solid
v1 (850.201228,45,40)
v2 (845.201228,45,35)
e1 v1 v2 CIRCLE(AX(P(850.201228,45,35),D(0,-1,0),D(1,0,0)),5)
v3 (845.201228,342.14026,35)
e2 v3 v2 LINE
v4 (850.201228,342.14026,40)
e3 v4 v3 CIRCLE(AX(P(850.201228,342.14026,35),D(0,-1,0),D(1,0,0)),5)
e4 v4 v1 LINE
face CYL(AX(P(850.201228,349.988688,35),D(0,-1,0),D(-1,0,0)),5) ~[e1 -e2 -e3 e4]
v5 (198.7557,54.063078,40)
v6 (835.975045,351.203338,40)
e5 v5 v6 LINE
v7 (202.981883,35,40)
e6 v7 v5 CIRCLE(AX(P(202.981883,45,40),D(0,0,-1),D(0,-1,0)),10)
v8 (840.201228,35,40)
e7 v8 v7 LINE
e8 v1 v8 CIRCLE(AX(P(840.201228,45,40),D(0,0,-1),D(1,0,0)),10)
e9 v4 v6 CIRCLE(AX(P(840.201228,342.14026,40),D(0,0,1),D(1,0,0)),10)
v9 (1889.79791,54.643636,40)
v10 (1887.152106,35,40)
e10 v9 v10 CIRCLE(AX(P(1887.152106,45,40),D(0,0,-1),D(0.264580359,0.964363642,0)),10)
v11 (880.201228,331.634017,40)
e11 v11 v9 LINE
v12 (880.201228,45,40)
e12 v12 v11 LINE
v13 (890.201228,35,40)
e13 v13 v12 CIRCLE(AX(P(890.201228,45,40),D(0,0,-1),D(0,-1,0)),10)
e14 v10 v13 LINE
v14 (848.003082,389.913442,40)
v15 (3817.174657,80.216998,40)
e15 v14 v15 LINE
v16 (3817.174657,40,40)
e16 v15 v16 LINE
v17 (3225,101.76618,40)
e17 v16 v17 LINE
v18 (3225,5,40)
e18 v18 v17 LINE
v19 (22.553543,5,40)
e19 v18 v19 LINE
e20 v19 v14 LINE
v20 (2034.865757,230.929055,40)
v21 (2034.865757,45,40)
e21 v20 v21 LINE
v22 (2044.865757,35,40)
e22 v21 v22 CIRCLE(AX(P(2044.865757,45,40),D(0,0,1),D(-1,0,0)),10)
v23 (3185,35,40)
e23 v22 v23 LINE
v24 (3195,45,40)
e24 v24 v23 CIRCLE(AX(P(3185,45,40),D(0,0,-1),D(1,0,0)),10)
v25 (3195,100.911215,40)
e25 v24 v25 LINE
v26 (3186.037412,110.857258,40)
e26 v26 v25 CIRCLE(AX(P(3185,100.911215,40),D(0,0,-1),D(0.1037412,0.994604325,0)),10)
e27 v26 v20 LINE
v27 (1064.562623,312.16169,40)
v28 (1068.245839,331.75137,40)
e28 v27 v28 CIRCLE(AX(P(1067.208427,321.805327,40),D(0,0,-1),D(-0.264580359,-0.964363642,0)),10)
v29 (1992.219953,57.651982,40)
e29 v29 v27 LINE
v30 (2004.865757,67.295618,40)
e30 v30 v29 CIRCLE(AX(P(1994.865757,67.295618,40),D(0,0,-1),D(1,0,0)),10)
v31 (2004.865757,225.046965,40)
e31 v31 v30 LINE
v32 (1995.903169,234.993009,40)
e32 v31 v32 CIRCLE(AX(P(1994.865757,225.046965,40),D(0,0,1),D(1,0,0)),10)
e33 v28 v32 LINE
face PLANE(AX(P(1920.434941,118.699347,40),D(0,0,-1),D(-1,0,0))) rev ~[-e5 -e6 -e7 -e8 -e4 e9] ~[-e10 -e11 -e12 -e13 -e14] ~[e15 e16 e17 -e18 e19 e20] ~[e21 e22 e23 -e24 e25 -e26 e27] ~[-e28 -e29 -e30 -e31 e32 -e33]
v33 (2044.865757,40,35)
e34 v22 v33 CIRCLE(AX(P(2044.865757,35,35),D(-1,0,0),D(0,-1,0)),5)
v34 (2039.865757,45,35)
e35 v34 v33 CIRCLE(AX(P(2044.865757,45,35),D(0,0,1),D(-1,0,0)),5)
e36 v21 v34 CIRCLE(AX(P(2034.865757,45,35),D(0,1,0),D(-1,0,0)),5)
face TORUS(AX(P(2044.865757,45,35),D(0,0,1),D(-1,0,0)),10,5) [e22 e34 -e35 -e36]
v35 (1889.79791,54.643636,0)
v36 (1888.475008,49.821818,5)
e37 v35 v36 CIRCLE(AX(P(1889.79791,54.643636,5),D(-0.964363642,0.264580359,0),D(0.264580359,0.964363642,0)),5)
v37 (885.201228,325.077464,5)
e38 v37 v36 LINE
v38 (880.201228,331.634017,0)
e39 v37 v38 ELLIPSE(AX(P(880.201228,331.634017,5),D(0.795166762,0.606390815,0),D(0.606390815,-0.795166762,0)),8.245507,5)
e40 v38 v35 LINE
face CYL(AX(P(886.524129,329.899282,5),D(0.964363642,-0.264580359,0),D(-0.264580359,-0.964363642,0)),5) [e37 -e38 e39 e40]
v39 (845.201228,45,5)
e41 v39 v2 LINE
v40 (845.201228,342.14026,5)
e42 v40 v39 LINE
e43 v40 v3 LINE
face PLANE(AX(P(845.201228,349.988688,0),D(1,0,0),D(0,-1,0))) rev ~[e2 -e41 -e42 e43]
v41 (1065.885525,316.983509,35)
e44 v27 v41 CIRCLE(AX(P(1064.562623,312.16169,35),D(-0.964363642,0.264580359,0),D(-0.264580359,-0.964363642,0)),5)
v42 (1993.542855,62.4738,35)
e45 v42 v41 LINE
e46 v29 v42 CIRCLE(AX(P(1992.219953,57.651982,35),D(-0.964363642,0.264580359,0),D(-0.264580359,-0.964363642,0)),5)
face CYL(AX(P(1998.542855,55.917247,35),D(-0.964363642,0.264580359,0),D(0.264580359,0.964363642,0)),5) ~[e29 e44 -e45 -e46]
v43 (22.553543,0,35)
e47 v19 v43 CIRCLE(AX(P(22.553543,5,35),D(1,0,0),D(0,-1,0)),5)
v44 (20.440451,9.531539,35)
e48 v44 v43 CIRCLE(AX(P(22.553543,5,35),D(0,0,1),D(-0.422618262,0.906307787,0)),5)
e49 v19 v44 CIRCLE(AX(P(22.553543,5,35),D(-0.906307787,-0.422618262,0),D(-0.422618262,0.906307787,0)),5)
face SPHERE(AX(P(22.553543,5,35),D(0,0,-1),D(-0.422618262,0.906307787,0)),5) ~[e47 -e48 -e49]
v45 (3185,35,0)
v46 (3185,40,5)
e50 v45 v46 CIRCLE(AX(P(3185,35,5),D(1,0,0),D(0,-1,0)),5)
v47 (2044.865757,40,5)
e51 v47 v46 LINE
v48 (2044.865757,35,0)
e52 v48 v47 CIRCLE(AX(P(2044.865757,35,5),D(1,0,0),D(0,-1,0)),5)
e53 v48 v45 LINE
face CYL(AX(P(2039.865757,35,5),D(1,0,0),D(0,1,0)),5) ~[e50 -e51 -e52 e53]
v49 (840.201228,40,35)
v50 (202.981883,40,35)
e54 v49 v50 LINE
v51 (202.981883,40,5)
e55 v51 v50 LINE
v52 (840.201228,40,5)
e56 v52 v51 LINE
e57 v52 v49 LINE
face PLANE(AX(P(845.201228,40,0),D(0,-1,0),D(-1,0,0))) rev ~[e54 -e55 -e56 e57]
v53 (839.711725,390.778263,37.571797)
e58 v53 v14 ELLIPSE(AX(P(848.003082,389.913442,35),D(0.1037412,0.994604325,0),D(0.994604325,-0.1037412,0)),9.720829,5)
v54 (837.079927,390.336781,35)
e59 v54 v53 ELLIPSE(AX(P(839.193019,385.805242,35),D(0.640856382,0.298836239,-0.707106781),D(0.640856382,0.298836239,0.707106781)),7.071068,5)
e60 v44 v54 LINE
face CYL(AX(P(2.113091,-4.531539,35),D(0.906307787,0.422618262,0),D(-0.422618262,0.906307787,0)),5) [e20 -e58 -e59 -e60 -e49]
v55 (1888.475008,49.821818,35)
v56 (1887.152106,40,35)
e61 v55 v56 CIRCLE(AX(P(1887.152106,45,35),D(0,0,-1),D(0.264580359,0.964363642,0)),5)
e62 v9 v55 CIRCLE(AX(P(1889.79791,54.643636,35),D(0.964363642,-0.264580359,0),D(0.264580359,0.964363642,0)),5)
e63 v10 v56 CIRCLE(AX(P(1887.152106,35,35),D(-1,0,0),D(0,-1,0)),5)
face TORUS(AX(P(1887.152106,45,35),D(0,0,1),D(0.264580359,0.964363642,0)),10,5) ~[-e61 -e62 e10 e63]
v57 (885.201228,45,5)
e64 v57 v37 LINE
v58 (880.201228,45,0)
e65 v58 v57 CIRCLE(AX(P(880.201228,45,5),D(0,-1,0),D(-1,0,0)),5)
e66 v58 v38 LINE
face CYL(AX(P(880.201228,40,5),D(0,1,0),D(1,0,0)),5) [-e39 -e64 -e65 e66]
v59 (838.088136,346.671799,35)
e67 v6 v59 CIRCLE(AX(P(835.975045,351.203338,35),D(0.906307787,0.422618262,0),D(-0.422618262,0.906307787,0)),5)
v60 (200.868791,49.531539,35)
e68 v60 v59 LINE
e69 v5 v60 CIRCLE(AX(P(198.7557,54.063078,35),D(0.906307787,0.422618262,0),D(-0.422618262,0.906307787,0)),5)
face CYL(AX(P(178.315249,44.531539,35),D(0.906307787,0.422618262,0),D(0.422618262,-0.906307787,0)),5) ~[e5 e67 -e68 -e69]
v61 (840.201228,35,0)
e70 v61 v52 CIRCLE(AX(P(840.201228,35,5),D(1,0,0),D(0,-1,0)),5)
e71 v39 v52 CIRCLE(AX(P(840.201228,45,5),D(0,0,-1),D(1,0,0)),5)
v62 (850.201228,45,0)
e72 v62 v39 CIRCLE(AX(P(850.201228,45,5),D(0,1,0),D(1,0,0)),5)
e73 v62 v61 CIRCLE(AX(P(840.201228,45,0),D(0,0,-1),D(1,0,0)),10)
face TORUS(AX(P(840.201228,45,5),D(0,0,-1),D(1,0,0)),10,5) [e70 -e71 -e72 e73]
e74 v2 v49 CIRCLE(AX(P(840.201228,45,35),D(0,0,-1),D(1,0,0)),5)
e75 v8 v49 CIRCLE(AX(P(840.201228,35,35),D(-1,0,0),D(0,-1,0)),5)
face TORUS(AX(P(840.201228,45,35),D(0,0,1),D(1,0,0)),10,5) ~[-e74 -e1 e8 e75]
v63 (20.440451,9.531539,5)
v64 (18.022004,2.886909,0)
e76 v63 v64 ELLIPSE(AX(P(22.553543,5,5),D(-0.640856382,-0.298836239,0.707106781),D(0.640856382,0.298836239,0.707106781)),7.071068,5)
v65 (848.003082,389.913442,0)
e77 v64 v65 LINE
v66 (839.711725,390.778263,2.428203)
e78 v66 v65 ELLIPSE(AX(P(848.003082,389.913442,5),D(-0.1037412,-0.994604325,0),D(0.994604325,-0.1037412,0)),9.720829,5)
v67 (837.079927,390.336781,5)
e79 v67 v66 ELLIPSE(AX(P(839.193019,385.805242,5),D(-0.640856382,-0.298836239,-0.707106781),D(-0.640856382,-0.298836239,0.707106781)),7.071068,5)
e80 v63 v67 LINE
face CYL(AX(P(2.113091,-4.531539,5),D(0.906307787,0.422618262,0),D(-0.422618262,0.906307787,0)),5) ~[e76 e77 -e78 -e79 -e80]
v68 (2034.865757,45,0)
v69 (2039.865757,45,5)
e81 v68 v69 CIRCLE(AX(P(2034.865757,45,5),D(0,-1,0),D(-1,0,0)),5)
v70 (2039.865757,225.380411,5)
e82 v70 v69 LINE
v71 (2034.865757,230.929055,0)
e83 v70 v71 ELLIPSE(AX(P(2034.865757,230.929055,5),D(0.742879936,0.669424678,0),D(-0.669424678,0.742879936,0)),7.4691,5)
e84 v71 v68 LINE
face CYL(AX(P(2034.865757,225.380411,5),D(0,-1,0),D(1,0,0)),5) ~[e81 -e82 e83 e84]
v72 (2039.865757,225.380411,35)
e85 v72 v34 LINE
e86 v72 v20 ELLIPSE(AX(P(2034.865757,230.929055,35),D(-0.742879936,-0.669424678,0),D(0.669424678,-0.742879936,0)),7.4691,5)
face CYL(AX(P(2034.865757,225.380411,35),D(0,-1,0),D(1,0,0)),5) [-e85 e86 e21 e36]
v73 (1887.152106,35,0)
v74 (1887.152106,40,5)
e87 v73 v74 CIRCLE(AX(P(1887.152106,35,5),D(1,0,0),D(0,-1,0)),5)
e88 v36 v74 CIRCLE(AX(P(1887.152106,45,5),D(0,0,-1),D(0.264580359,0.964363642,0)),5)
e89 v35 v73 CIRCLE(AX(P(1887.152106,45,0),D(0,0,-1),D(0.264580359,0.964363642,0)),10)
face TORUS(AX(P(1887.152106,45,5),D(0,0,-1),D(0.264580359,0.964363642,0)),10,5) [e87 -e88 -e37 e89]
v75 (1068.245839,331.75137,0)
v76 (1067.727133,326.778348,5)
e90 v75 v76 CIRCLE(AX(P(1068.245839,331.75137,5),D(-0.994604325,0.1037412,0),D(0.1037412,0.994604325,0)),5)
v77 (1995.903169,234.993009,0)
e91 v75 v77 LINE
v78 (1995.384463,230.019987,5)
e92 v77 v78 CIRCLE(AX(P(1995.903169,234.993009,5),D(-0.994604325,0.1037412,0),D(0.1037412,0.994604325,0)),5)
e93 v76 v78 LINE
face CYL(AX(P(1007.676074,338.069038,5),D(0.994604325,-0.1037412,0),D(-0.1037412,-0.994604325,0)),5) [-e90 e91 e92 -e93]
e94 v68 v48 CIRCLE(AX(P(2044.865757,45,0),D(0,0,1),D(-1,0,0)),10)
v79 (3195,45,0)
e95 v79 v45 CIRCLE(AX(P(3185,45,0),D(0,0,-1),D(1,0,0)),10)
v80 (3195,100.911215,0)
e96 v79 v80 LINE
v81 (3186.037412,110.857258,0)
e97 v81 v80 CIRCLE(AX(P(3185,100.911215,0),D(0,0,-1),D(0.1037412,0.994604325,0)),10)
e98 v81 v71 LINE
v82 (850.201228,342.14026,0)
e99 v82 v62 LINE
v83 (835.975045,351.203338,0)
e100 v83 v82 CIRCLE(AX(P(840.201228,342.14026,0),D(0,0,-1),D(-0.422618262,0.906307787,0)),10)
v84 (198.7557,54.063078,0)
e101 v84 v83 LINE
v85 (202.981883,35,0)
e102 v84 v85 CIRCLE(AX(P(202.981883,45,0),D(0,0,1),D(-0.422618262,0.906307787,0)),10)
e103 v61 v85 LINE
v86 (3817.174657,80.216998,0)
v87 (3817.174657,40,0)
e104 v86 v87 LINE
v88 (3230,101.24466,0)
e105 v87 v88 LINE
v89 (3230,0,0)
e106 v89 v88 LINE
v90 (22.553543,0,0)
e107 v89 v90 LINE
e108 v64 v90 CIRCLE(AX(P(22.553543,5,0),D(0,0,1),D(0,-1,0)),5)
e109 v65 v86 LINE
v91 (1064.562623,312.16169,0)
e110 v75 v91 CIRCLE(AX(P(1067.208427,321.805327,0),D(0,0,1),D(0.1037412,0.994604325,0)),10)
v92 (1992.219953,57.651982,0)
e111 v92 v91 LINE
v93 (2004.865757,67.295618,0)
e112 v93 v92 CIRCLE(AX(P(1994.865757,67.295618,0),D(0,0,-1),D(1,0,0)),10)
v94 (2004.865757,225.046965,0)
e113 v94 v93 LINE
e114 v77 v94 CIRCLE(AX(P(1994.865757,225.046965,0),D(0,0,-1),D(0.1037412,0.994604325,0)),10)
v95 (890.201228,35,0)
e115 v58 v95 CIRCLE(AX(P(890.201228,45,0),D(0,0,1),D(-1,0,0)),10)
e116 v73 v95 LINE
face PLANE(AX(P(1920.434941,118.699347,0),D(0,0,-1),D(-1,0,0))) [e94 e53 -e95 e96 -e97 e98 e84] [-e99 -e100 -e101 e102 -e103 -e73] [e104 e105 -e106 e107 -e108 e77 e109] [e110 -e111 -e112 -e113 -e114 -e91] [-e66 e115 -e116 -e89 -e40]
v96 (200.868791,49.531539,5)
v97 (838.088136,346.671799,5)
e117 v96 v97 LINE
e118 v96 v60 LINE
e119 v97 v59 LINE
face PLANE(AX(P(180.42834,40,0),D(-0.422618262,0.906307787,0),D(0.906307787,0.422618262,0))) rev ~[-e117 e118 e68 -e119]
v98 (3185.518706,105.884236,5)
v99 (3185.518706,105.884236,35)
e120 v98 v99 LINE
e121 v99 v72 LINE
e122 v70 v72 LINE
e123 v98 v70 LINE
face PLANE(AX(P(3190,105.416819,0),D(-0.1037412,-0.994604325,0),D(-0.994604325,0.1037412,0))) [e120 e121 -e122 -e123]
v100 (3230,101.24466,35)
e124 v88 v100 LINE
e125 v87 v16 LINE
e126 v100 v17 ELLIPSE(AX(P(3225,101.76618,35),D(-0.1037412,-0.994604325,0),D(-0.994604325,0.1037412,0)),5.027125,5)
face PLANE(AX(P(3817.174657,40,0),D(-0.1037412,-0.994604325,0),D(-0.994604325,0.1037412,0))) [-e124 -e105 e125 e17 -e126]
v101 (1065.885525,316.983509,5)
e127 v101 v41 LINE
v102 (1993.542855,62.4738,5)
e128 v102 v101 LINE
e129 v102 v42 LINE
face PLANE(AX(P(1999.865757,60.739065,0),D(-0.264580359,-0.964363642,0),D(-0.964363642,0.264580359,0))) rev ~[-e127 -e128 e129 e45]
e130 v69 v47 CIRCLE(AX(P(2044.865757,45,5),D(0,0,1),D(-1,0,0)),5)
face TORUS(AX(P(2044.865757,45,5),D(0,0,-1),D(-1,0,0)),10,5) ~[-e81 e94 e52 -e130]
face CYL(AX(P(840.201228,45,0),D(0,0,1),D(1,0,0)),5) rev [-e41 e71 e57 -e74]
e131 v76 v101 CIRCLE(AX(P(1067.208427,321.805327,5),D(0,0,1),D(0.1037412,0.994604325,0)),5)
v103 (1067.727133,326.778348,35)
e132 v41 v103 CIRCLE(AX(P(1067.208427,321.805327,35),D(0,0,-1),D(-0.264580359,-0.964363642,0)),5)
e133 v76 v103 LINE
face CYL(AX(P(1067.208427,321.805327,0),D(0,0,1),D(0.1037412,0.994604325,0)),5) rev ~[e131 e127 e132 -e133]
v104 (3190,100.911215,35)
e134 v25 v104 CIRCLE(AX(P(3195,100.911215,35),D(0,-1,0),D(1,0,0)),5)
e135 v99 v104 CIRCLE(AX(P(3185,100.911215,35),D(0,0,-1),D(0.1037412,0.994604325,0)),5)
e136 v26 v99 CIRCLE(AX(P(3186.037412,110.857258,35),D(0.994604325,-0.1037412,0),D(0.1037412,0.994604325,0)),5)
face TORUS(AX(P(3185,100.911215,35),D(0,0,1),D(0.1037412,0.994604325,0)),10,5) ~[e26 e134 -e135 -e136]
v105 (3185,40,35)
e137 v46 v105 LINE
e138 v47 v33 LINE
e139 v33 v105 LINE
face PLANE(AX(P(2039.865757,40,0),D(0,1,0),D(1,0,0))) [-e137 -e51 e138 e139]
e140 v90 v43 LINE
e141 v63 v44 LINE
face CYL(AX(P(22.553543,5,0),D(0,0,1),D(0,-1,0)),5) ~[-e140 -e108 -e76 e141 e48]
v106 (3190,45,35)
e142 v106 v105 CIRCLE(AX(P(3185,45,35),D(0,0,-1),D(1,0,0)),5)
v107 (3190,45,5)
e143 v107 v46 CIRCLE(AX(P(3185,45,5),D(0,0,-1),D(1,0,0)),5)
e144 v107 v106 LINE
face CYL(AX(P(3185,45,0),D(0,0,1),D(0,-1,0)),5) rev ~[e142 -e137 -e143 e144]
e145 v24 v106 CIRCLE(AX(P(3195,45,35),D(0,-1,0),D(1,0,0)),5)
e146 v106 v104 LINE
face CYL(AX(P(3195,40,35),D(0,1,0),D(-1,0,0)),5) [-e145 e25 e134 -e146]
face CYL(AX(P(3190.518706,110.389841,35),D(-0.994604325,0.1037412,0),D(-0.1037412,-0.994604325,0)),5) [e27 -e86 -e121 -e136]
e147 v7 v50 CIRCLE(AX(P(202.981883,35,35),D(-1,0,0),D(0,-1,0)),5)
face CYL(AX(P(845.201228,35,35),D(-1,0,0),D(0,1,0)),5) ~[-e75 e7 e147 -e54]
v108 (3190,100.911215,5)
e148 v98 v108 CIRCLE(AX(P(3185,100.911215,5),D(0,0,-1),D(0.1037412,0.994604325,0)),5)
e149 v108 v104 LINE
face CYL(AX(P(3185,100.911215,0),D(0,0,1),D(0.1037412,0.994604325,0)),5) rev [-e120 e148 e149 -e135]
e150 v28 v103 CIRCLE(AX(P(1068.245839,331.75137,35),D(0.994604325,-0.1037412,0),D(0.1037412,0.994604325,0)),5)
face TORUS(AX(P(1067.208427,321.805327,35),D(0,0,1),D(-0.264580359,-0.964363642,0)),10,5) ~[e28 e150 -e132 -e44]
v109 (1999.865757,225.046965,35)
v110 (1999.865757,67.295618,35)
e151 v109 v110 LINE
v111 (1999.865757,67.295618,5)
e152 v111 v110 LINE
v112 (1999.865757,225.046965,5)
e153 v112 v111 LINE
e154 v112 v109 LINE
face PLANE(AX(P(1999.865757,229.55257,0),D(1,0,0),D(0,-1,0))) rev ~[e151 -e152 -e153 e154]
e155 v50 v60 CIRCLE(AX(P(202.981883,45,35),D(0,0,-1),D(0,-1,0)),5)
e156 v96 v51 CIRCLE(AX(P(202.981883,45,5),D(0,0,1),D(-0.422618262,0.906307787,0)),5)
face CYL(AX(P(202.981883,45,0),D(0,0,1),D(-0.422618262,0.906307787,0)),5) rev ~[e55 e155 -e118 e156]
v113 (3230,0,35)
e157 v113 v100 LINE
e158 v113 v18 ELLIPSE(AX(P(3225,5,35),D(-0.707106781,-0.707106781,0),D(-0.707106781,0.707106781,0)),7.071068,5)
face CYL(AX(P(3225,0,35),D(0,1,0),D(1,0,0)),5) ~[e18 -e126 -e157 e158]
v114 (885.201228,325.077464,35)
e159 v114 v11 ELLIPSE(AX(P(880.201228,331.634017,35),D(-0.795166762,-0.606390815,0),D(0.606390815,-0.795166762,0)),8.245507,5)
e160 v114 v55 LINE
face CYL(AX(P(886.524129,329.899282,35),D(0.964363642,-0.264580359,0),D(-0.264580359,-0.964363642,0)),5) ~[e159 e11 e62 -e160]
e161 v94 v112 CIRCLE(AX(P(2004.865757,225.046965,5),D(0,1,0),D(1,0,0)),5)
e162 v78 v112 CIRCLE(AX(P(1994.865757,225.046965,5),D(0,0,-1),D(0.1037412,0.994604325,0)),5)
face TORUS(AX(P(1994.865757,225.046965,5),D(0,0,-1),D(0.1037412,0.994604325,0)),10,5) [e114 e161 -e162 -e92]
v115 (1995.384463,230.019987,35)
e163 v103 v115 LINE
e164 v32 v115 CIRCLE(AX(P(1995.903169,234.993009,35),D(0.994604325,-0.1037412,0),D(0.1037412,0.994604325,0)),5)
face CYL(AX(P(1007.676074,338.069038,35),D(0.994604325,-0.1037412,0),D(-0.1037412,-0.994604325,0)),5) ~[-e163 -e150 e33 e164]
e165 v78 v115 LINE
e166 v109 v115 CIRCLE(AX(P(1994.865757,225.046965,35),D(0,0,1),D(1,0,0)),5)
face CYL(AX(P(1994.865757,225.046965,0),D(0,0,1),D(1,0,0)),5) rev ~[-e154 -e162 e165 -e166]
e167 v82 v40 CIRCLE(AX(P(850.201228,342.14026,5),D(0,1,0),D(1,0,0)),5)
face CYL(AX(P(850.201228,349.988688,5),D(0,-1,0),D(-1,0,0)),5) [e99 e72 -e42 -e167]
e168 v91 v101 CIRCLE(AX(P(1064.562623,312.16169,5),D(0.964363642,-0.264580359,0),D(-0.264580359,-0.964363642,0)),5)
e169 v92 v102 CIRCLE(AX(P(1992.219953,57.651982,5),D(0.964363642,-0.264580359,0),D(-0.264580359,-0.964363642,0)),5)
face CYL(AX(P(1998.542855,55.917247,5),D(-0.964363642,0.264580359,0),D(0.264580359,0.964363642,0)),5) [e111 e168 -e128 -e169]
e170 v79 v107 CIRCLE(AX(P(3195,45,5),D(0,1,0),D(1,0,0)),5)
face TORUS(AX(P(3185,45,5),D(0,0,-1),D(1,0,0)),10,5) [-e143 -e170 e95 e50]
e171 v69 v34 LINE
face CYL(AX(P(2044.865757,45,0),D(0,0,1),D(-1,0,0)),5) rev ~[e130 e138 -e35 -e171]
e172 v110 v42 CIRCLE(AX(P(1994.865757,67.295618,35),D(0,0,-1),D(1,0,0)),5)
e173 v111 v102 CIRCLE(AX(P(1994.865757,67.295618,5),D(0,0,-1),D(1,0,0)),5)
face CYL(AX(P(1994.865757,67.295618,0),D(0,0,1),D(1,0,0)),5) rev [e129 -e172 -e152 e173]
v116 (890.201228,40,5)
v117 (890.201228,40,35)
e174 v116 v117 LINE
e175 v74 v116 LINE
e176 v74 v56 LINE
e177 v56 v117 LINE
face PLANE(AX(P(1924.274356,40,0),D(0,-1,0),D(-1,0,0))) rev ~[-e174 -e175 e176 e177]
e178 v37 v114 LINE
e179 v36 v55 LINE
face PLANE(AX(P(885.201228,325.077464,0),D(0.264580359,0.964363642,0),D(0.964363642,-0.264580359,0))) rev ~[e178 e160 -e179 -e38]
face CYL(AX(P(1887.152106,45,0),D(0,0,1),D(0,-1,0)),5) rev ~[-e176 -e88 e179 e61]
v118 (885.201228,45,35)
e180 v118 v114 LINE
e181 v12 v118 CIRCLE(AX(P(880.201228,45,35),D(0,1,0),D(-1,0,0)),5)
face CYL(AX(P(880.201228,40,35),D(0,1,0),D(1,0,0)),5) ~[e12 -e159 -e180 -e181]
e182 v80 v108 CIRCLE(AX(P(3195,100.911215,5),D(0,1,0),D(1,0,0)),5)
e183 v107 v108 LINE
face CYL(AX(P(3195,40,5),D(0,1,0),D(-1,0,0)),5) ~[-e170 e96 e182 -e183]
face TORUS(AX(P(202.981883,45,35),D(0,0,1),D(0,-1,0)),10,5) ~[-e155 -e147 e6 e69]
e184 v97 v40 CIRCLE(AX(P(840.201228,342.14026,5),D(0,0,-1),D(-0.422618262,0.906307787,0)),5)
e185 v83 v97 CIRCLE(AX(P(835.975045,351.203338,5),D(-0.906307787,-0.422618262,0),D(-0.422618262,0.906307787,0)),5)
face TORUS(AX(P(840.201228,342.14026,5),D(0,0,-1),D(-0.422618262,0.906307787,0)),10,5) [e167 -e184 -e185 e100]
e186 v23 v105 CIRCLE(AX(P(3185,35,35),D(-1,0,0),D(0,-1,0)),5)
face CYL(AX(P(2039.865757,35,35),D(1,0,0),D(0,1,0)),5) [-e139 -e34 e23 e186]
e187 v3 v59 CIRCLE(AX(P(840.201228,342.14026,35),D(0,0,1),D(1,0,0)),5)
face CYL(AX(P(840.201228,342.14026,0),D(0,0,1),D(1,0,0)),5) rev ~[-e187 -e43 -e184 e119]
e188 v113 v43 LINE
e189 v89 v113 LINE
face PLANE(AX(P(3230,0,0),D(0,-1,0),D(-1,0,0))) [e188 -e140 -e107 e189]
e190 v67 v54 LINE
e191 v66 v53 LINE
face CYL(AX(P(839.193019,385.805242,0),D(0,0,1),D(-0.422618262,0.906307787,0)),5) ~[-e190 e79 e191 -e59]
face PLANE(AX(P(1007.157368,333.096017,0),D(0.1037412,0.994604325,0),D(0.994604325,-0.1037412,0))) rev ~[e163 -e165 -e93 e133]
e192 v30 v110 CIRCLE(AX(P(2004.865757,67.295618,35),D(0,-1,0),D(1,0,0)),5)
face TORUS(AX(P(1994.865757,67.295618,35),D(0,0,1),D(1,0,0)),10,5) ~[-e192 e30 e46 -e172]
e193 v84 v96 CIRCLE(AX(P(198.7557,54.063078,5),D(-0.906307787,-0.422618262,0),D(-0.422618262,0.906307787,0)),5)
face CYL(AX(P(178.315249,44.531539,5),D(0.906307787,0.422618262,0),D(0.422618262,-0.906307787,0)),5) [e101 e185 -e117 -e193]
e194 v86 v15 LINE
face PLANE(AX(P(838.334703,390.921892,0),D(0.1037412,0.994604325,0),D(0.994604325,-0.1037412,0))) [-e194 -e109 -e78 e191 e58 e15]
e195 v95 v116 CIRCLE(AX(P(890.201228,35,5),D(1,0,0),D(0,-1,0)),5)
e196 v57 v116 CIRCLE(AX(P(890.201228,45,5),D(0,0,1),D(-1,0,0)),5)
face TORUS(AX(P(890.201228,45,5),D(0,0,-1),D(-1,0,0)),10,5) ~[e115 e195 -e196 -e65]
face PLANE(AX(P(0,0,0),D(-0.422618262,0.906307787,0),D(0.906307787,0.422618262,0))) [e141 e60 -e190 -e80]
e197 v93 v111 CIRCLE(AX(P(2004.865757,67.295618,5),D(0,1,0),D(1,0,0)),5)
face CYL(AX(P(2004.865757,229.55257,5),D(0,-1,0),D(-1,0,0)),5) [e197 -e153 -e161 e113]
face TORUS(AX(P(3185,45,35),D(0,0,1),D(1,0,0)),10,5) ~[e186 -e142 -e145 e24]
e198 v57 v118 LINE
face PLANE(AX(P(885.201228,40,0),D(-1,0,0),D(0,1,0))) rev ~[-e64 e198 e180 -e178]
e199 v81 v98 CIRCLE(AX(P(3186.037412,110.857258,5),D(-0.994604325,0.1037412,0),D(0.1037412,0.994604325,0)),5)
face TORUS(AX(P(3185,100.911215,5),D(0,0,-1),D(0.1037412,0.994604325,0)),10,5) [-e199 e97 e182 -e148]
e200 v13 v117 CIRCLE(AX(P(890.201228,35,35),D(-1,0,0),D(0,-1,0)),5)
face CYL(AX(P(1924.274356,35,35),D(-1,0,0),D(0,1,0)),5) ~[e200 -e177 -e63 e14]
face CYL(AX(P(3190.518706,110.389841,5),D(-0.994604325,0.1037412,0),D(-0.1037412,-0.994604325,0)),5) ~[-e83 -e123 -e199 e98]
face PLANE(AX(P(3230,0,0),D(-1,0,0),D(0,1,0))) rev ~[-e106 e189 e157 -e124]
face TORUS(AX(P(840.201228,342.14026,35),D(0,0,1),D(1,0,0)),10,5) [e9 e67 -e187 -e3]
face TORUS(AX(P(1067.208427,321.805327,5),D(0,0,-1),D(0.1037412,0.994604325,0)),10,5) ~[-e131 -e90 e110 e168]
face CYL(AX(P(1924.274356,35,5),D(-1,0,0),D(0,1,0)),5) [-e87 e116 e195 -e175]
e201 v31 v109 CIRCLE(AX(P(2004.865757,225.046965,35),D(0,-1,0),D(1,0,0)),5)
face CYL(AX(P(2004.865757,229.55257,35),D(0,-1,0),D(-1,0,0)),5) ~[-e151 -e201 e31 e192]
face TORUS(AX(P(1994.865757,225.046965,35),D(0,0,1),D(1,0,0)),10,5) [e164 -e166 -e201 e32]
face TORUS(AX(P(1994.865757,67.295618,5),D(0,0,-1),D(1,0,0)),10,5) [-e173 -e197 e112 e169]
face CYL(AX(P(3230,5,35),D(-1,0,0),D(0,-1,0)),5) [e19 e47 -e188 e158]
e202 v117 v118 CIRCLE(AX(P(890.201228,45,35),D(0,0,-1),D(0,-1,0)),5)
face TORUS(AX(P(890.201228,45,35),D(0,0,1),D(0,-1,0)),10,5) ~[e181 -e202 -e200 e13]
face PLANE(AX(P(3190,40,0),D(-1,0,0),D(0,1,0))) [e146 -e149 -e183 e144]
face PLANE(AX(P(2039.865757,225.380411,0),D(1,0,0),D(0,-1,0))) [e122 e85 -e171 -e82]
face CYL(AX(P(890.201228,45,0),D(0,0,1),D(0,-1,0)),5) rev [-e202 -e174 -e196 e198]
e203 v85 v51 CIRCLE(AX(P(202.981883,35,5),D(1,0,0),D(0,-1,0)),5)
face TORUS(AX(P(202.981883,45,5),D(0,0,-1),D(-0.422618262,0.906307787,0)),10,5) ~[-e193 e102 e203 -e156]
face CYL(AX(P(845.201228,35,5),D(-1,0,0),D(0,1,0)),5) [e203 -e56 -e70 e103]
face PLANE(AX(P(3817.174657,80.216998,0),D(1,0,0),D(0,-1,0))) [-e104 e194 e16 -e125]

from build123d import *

# Parameters (mm, degrees)
BOSS_EXTRUDE1_DEPTH = 40
FILLET1_R           = 5


with BuildPart() as part:
    # Sketch1 → Boss-Extrude1 (new body)
    with BuildSketch(Plane.XY):
        Polygon((3230, 101.244659806), (3230, 40), (3230, 0), (0, 0), (838.334703009, 390.92189211), (3817.174656528, 80.216997848), (3817.174656528, 40), align=None)
        Polygon((1999.865756907, 229.552570232), (1999.865756907, 40), (885.201227588, 40), (885.201227588, 345.816528727), align=None, mode=Mode.SUBTRACT)
        Polygon((2039.865756907, 225.380410611), (2039.865756907, 40), (3190, 40), (3190, 105.416819427), align=None, mode=Mode.SUBTRACT)
        Polygon((845.201227588, 349.988688348), (845.201227588, 40), (180.428340146, 40), align=None, mode=Mode.SUBTRACT)
        Polygon((1007.157367821, 333.096016633), (885.201227588, 345.816528727), (885.201227588, 325.077463987), (1924.274355967, 40), (1999.865756907, 40), (1999.865756907, 60.73906474), align=None)
    extrude(amount=BOSS_EXTRUDE1_DEPTH)

    # Fillet1
    fillet1_edges = [part.edges().sort_by_distance(p)[0] for p in [
        (1404.737791778, 182.538731994, 0),
        (885.201227588, 182.538731994, 0),
        (1503.511562364, 281.324293432, 0),
        (2614.932878453, 165.398615019, 0),
        (2039.865756907, 132.690205306, 0),
        (512.814783867, 194.994344174, 0),
        (1404.737791778, 40, 0),
        (1999.865756907, 145.145817486, 0),
        (1503.511562364, 196.917540686, 0),
        (3190, 72.708409713, 0),
        (2614.932878453, 40, 0),
        (845.201227588, 194.994344174, 0),
        (512.814783867, 40, 0),
        (419.167351504, 195.460946055, 0),
        (1404.737791778, 182.538731994, 40),
        (1404.737791778, 40, 40),
        (885.201227588, 182.538731994, 40),
        (1999.865756907, 145.145817486, 40),
        (1503.511562364, 196.917540686, 40),
        (1503.511562364, 281.324293432, 40),
        (2039.865756907, 132.690205306, 40),
        (2614.932878453, 165.398615019, 40),
        (3190, 72.708409713, 40),
        (2614.932878453, 40, 40),
        (845.201227588, 194.994344174, 40),
        (512.814783867, 40, 40),
        (512.814783867, 194.994344174, 40),
        (3230, 50.622329903, 40),
        (419.167351504, 195.460946055, 40),
        (1615, 0, 40),
        (885.201227588, 40, 20),
        (1924.274355967, 40, 20),
        (1999.865756907, 229.552570232, 20),
        (1007.157367821, 333.096016633, 20),
        (1999.865756907, 60.73906474, 20),
        (2039.865756907, 40, 20),
        (3190, 40, 20),
        (3190, 105.416819427, 20),
        (845.201227588, 349.988688348, 20),
        (180.428340146, 40, 20),
        (845.201227588, 40, 20),
        (0, 0, 20),
        (838.334703009, 390.92189211, 20),
    ]]
    fillet(fillet1_edges, radius=FILLET1_R)


solid = part.part
